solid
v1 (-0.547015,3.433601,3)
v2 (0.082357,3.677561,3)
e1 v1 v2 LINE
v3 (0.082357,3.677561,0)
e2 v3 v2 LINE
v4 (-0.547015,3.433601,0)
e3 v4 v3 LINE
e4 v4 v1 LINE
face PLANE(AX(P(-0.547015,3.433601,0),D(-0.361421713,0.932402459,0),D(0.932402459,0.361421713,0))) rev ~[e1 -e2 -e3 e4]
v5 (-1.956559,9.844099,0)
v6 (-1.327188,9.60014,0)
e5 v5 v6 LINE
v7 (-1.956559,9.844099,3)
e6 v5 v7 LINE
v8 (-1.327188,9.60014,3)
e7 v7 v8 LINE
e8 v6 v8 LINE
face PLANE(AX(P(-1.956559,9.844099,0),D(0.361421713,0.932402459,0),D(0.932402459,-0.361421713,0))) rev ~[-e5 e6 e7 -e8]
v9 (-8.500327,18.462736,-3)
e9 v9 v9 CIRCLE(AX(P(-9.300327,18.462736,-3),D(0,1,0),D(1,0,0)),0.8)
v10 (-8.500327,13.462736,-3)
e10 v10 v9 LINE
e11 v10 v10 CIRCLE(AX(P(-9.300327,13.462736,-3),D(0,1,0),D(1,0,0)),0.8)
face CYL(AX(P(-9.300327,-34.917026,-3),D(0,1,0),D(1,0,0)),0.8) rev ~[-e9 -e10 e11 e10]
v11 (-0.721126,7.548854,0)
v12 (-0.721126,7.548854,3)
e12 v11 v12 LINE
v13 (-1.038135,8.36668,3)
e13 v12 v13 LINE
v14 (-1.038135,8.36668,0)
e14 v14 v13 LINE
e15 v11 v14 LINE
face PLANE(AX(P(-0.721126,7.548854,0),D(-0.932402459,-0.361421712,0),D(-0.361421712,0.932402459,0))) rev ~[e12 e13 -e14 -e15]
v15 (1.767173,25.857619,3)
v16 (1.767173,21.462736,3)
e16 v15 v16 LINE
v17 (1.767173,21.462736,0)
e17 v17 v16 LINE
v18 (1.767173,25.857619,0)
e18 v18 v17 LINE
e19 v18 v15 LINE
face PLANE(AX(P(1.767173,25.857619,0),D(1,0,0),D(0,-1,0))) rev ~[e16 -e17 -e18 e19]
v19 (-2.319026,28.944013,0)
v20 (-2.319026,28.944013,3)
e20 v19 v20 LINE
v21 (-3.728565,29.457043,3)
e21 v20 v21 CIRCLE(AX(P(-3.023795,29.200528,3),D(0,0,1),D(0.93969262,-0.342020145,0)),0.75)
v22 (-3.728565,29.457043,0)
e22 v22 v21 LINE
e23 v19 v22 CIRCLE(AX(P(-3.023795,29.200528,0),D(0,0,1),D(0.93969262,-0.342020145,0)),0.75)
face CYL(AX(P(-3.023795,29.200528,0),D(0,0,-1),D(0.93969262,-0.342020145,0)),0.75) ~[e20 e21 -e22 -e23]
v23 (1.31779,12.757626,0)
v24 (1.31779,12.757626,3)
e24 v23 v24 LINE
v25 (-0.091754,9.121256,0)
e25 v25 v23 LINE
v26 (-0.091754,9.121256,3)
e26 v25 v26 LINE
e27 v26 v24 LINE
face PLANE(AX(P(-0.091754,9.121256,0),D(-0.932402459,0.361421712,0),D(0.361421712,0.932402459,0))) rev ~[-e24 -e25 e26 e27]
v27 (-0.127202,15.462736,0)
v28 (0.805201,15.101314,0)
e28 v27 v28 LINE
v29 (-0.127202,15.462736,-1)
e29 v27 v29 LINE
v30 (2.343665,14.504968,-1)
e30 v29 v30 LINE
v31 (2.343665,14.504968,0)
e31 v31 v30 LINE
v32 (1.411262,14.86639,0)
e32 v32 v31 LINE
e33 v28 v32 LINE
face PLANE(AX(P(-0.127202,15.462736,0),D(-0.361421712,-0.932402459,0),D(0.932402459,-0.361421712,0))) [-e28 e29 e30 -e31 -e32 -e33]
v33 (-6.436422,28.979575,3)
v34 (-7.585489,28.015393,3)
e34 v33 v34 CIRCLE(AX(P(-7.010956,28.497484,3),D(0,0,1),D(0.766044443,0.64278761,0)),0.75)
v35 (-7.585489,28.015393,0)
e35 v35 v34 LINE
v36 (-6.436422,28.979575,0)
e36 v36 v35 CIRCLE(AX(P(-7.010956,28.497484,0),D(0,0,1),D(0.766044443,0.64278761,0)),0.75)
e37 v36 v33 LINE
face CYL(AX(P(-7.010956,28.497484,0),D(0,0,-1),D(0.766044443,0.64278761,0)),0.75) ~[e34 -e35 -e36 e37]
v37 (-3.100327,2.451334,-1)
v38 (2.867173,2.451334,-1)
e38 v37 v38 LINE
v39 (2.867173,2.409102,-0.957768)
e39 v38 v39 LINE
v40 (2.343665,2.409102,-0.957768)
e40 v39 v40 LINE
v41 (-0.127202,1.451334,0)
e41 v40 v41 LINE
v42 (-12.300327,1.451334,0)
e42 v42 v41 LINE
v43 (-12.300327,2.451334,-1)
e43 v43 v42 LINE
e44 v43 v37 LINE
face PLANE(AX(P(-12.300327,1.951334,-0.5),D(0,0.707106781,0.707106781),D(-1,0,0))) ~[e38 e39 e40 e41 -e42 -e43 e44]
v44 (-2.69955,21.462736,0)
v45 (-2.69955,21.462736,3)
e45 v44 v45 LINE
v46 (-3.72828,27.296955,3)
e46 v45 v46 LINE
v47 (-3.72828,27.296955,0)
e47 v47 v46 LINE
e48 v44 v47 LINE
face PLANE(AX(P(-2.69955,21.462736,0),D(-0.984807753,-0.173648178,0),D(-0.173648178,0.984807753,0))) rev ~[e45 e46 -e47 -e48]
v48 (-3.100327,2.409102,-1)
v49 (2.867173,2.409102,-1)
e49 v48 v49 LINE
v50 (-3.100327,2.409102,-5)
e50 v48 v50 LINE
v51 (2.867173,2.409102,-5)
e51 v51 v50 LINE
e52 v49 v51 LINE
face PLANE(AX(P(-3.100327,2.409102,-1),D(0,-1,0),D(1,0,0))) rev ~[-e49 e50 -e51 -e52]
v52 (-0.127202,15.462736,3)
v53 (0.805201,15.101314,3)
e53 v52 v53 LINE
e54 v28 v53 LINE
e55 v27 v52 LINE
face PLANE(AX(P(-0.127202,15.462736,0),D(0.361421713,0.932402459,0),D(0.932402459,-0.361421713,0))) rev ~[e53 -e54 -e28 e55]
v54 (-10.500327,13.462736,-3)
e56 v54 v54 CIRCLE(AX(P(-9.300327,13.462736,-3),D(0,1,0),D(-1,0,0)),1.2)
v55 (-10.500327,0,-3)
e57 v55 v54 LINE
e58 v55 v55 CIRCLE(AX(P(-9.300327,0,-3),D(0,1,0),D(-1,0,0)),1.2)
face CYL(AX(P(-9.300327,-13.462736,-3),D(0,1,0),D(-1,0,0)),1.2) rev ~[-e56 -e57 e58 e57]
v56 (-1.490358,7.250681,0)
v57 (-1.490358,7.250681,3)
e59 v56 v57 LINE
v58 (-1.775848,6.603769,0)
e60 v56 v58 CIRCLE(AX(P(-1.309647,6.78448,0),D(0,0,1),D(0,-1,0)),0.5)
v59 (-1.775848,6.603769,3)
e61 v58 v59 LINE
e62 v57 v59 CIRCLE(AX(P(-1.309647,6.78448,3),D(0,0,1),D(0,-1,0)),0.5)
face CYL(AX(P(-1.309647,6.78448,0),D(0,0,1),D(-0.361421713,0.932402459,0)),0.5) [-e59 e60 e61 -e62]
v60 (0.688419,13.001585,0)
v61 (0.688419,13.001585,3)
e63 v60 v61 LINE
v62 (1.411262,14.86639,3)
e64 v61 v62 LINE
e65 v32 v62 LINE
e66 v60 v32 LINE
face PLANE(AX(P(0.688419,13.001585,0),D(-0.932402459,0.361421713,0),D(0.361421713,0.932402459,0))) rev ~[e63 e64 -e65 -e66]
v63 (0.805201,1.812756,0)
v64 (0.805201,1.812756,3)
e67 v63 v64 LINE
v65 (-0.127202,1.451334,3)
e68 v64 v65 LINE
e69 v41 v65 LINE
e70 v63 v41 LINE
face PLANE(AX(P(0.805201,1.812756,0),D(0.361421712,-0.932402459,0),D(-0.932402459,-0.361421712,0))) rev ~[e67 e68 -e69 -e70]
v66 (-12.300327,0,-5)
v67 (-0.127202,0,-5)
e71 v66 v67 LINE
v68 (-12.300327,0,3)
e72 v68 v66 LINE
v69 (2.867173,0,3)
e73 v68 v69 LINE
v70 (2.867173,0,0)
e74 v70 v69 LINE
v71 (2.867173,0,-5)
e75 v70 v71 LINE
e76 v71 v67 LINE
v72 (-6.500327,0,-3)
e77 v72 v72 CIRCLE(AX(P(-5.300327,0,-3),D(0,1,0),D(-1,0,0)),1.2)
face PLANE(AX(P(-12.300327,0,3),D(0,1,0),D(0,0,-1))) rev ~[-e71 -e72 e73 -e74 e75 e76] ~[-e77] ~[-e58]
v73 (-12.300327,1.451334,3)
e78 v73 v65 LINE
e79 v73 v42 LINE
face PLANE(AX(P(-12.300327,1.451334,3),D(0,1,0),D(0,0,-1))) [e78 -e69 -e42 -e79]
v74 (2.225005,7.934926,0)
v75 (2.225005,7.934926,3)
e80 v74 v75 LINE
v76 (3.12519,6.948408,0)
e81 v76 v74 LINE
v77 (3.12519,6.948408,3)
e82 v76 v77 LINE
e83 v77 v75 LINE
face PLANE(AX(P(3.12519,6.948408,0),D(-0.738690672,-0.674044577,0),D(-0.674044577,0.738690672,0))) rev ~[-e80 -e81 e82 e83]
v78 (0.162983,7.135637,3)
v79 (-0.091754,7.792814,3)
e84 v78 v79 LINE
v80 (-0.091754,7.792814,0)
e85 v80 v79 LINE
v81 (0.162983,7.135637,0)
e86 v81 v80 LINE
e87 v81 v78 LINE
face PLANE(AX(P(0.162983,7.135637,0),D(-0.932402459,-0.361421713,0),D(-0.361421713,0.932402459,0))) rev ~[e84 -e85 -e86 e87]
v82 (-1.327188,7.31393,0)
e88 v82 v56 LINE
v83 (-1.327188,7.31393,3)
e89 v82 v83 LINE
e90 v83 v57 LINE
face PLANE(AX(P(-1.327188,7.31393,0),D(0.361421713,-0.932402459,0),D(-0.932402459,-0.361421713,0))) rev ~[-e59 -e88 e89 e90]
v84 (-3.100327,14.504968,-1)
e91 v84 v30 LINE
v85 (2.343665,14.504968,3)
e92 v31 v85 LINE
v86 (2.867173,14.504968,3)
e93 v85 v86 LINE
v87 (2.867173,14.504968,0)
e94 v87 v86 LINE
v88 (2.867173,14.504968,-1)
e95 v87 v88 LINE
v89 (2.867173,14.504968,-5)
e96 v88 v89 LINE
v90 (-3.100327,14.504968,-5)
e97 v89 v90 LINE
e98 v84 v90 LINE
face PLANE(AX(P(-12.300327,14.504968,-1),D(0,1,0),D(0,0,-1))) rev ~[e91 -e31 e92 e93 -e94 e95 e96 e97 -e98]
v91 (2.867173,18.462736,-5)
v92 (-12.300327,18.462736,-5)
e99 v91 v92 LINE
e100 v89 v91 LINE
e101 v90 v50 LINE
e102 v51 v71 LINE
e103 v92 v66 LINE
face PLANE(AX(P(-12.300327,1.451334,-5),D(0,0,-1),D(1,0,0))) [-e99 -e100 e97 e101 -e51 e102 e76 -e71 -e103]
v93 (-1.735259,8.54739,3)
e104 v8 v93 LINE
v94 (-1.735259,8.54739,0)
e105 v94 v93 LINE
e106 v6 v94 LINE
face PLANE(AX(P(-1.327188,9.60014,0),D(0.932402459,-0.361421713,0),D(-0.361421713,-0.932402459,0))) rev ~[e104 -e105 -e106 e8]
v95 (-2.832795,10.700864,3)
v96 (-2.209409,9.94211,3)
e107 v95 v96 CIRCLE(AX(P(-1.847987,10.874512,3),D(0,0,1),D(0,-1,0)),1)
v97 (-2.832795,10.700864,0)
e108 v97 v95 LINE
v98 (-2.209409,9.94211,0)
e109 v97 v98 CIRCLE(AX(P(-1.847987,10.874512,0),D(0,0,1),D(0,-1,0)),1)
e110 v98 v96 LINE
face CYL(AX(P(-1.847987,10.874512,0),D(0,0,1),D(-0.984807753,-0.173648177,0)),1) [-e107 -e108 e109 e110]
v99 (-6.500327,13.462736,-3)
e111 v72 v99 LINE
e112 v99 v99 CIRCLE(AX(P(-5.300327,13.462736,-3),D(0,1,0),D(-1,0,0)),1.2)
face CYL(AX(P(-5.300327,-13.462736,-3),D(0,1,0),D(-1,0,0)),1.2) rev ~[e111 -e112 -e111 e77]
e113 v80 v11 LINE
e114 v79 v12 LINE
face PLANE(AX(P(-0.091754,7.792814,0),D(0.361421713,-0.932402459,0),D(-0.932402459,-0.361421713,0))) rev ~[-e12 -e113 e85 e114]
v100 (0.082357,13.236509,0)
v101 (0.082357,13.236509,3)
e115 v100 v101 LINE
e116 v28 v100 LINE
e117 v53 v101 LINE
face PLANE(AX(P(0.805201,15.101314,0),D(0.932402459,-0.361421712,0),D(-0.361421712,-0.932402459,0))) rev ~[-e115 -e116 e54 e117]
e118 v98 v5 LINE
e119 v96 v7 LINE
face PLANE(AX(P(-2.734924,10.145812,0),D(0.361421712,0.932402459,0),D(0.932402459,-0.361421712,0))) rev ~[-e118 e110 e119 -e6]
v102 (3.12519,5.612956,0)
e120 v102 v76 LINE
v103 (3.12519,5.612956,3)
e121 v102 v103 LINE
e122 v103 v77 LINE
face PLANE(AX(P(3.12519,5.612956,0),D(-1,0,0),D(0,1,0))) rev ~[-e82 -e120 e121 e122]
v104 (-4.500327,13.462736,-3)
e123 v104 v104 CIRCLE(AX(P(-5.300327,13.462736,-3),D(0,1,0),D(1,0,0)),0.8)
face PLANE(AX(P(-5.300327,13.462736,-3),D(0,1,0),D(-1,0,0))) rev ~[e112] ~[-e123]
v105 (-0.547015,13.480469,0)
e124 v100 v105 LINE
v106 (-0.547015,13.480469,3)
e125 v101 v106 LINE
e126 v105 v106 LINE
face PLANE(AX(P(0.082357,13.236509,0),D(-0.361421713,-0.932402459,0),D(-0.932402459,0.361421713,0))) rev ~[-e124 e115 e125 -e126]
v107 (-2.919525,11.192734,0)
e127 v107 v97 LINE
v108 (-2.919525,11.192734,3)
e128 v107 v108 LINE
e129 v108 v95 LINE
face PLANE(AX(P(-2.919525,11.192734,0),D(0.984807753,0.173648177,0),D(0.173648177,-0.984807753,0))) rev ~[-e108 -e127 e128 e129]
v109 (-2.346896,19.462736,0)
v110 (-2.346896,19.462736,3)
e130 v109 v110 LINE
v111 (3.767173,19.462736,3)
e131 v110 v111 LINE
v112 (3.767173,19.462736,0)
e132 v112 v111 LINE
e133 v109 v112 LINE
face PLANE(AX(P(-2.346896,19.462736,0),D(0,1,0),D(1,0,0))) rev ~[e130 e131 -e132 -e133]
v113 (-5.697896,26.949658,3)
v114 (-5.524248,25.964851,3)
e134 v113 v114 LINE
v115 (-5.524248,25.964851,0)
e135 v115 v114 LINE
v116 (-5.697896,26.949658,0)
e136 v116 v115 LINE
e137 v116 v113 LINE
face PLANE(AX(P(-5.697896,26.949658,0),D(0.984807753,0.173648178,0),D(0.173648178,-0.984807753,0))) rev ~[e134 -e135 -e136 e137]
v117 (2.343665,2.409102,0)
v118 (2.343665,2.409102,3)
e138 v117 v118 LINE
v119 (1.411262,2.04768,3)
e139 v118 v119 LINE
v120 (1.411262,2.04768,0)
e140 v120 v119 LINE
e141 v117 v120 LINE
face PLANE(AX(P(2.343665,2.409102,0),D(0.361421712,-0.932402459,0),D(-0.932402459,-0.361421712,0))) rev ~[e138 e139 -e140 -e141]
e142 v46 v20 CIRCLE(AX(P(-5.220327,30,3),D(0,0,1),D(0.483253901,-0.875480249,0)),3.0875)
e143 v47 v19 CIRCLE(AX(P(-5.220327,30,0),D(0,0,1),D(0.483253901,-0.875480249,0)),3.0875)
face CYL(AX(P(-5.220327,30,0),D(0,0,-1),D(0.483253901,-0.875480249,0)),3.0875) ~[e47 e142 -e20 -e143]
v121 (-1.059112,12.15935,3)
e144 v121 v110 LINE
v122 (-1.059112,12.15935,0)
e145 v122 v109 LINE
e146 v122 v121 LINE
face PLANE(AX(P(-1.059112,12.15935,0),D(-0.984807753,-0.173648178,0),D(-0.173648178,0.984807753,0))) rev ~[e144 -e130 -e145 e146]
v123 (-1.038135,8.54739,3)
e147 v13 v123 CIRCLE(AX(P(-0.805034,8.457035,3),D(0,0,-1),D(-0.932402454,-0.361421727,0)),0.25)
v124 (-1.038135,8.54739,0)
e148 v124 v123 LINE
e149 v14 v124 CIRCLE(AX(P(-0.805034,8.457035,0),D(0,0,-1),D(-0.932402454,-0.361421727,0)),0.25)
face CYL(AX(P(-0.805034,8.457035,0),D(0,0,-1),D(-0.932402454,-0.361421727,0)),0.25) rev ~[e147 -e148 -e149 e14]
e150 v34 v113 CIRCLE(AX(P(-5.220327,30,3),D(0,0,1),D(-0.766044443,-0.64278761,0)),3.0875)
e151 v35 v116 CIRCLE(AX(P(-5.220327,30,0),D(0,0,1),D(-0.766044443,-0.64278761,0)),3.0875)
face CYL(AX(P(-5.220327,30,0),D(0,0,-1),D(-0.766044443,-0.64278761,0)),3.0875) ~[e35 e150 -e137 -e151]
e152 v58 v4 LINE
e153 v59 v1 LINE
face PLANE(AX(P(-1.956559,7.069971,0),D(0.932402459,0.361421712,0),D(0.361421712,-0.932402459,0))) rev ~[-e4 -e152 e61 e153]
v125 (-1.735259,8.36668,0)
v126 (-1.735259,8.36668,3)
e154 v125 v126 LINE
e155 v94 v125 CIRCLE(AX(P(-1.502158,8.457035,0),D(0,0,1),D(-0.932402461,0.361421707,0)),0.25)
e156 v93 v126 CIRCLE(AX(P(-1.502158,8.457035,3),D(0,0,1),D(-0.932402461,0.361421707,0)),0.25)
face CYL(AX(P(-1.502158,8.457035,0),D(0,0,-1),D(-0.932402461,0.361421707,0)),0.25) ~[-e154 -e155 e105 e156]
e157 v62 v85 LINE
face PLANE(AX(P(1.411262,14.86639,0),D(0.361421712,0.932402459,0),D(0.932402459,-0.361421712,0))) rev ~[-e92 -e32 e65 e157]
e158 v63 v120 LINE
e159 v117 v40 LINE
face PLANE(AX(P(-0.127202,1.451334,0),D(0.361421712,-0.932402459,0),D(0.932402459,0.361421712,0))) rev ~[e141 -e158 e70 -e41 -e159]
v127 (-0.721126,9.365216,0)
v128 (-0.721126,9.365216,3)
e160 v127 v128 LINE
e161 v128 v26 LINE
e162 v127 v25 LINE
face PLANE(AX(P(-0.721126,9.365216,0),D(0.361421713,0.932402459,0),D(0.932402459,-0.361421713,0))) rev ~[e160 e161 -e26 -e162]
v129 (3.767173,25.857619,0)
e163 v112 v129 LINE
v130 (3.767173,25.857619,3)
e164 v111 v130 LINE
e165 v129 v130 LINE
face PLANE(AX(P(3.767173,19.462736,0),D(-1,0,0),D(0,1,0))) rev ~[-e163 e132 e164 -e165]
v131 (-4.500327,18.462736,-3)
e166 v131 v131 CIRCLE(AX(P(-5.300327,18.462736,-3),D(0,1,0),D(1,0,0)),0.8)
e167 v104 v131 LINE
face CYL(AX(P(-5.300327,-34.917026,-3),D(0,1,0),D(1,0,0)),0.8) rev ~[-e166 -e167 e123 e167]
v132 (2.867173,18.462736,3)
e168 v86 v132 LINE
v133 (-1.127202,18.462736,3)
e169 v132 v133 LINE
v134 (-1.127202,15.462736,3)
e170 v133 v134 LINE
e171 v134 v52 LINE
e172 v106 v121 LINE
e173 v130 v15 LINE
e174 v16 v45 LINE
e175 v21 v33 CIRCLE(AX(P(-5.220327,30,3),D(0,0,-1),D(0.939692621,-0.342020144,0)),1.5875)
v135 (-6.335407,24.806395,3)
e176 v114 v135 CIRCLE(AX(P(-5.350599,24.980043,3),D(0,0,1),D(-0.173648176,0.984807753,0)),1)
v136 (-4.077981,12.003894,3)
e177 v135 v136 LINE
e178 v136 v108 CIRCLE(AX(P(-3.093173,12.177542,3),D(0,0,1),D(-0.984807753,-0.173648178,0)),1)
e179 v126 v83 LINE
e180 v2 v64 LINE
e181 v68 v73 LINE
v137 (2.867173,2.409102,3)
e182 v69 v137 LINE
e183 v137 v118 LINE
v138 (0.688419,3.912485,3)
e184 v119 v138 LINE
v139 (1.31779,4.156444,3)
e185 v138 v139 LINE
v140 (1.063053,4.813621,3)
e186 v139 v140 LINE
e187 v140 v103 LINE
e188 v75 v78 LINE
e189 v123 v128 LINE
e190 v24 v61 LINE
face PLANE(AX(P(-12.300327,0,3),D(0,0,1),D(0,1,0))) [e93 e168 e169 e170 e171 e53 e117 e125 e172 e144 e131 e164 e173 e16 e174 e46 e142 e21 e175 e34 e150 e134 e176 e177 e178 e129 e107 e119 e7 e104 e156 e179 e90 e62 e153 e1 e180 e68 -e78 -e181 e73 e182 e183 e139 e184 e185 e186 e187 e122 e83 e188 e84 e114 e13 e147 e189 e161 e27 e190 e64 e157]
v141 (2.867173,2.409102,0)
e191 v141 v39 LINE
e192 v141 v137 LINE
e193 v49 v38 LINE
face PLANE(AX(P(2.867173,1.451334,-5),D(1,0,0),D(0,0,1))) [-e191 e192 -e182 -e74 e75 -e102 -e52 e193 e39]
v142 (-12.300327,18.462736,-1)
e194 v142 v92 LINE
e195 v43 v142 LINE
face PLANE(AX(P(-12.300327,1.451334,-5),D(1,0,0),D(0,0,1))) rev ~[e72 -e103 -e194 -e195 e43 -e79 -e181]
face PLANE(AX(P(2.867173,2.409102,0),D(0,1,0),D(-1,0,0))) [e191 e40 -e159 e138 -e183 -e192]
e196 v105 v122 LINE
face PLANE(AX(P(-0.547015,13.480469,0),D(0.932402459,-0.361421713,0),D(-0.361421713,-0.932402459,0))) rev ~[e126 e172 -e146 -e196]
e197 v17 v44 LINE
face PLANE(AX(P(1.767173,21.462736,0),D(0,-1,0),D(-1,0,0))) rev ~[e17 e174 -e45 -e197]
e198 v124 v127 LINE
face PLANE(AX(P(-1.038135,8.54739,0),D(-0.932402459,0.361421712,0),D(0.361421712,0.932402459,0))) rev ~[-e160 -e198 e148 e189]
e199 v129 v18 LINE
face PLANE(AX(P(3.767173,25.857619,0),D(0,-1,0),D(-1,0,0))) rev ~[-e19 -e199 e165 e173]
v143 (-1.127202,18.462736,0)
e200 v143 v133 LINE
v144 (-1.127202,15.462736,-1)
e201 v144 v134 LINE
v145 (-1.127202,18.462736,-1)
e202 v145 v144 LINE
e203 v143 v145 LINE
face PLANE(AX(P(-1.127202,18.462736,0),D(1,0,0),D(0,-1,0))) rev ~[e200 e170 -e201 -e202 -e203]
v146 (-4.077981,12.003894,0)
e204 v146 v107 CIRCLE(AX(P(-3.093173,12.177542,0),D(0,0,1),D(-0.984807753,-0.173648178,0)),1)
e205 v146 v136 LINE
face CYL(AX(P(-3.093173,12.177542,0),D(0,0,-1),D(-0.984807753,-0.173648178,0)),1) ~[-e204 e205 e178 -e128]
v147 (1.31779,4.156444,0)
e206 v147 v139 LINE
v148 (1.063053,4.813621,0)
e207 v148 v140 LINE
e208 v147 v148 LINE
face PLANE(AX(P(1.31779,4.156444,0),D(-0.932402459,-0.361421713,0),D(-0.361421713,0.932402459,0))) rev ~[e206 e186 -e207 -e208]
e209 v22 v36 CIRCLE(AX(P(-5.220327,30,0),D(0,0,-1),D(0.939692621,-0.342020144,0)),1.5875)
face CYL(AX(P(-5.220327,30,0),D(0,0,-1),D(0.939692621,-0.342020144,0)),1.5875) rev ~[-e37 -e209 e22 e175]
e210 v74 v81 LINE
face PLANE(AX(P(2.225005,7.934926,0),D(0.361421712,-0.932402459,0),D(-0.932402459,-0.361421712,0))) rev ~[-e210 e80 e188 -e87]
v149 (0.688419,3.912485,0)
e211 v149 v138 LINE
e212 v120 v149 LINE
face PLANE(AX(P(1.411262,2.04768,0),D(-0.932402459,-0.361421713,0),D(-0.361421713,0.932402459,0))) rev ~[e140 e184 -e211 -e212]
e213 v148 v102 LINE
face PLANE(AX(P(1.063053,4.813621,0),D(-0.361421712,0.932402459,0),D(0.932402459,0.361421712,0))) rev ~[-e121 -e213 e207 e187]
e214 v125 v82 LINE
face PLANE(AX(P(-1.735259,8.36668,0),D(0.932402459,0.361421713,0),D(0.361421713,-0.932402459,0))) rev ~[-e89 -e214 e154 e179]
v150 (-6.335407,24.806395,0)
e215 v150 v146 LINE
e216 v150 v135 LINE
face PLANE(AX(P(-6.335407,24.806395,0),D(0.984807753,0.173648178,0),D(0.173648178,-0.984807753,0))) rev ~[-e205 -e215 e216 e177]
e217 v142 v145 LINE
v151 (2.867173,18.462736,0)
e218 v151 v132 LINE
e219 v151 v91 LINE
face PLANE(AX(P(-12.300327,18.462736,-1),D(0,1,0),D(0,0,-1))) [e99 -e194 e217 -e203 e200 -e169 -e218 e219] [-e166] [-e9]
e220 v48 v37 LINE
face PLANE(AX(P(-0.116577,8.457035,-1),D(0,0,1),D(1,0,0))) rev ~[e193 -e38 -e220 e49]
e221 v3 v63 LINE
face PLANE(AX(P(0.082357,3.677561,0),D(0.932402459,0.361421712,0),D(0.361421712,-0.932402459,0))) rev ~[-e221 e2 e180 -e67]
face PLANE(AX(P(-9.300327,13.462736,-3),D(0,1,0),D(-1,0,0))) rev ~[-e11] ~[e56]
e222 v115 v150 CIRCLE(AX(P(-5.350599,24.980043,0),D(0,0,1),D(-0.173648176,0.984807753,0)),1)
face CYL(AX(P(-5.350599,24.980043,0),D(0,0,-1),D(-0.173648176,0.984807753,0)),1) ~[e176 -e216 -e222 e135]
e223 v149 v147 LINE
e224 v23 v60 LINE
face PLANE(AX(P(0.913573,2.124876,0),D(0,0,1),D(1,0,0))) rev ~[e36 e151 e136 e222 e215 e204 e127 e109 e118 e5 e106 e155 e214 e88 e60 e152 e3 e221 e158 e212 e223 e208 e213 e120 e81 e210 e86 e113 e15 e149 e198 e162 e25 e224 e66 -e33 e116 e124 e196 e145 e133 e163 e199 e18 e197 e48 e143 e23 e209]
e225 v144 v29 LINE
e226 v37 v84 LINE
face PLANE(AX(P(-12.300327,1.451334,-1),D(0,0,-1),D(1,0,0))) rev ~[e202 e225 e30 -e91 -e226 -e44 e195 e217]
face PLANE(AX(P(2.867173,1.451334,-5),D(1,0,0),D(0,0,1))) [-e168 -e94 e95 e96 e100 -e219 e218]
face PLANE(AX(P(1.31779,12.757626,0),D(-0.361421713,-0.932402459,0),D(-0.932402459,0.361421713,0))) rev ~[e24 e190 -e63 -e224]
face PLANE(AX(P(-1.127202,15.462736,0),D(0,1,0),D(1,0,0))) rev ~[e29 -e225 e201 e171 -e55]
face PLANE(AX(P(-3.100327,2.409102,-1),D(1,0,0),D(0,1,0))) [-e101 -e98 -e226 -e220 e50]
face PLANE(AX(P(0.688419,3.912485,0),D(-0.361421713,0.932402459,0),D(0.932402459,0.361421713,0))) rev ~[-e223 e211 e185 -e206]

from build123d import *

# Parameters (mm, degrees)
BOSS_SWITCH_BODY_DEPTH            = 3
SKETCH1_W                         = 2.994375291
SKETCH1_H                         = 2.409101515
SKETCH1_W_2                       = 3.994375291
SKETCH1_H_2                       = 3.957767538
BOSS_FLANGE_WIDTH_DEPTH           = 5
BOSS_FLANGE_HEIGHT_REACH          = 36.354
SKETCH2_W                         = 4
SKETCH2_H                         = 3.957767538
SKETCH2_W_2                       = 8
SKETCH2_H_2                       = 1.451333978
SKETCH17_W                        = 15.1675
SKETCH17_H                        = 4
BOSS_FLANGE_SUPPORT_DEPTH         = 13.053634428
CUT_WALL_GAP_DEPTH                = 1
TAP_DRILL_FOR_M2X0_4_TAP1_D       = 1.6
M2_CLEARANCE_HOLE2_D              = 2.4
M2_CLEARANCE_HOLE2_DEPTH          = 13.462735941
CHAMFER_FLANGE_SUPPORT_3_SIZE     = 1
FILLET1_R                         = 1
FILLET2_R                         = 0.5
SKETCH28_W                        = 5.9675
SKETCH28_H                        = 12.095866891
CUT_PRINT_SUPPORT_CLEARANCE_DEPTH = 33.624103931


with BuildPart() as part:
    # Sketch-SwitchBossUp → Boss-Switch Body (new body)
    with BuildSketch(Plane.XY):
        with BuildLine():
            Line((-5.697895702, 26.949658376), (-5.524247524, 25.964850623))
            ThreePointArc((-5.524247524, 25.964850623), (-6.169751391, 25.553619307), (-6.3354071, 24.806394693))
            Line((-6.3354071, 24.806394693), (-4.07798079, 12.003893904))
            ThreePointArc((-4.07798079, 12.003893904), (-3.666749473, 11.358390037), (-2.919524859, 11.192734328))
            Line((-2.919524859, 11.192734328), (-2.734924291, 10.145812481))
            Line((-2.734924291, 10.145812481), (-1.956559213, 9.844099378))
            Line((-1.956559213, 9.844099378), (-1.327187553, 9.600139722))
            Line((-1.327187553, 9.600139722), (-1.735258621, 8.547390389))
            ThreePointArc((-1.735258621, 8.547390389), (-1.752158006, 8.457034961), (-1.735258621, 8.366679532))
            Line((-1.735258621, 8.366679532), (-1.327187553, 7.313930199))
            Line((-1.327187553, 7.313930199), (-1.956559213, 7.069970543))
            Line((-1.956559213, 7.069970543), (-0.547014535, 3.433600952))
            Line((-0.547014535, 3.433600952), (0.082357125, 3.677560608))
            Line((0.082357125, 3.677560608), (0.805200549, 1.81275569))
            Line((0.805200549, 1.81275569), (-0.12720191, 1.451333978))
            Line((-0.12720191, 1.451333978), (-0.12720191, 0))
            Line((-0.12720191, 0), (2.867173381, 0))
            Line((2.867173381, 0), (2.867173381, 2.409101515))
            Line((2.867173381, 2.409101515), (2.343664607, 2.409101515))
            Line((2.343664607, 2.409101515), (1.411262148, 2.047679803))
            Line((1.411262148, 2.047679803), (0.688418723, 3.912484721))
            Line((0.688418723, 3.912484721), (1.317790383, 4.156444377))
            Line((1.317790383, 4.156444377), (1.063052687, 4.813621425))
            Line((1.063052687, 4.813621425), (3.125189653, 5.612955517))
            Line((3.125189653, 5.612955517), (3.125189653, 6.948407561))
            Line((3.125189653, 6.948407561), (2.225005405, 7.93492645))
            Line((2.225005405, 7.93492645), (0.162983401, 7.13563692))
            Line((0.162983401, 7.13563692), (-0.091754295, 7.792813968))
            Line((-0.091754295, 7.792813968), (-0.721125955, 7.548854312))
            Line((-0.721125955, 7.548854312), (-1.038134762, 8.366679532))
            ThreePointArc((-1.038134762, 8.366679532), (-1.055034148, 8.457034961), (-1.038134762, 8.547390389))
            Line((-1.038134762, 8.547390389), (-0.721125955, 9.365215609))
            Line((-0.721125955, 9.365215609), (-0.091754295, 9.121255953))
            Line((-0.091754295, 9.121255953), (1.317790383, 12.757625544))
            Line((1.317790383, 12.757625544), (0.688418723, 13.0015852))
            Line((0.688418723, 13.0015852), (1.411262148, 14.866390118))
            Line((1.411262148, 14.866390118), (2.343664607, 14.504968406))
            Line((2.343664607, 14.504968406), (2.867173381, 14.504968406))
            Line((2.867173381, 14.504968406), (2.867173381, 18.462735944))
            Line((2.867173381, 18.462735944), (-0.111637615, 18.462735944))
            Line((-0.111637615, 18.462735944), (-1.12720191, 18.462735944))
            Line((-1.12720191, 18.462735944), (-1.12720191, 15.462735944))
            Line((-1.12720191, 15.462735944), (-0.12720191, 15.462735944))
            Line((-0.12720191, 15.462735944), (0.805200549, 15.101314231))
            Line((0.805200549, 15.101314231), (0.082357125, 13.236509313))
            Line((0.082357125, 13.236509313), (-0.547014535, 13.480468969))
            Line((-0.547014535, 13.480468969), (-1.059112089, 12.159350171))
            Line((-1.059112089, 12.159350171), (-2.346896051, 19.462735944))
            Line((-2.346896051, 19.462735944), (3.767173381, 19.462735944))
            Line((3.767173381, 19.462735944), (3.767173381, 25.857619356))
            Line((3.767173381, 25.857619356), (1.767173381, 25.857619356))
            Line((1.767173381, 25.857619356), (1.767173381, 21.462735944))
            Line((1.767173381, 21.462735944), (-2.699550012, 21.462735944))
            Line((-2.699550012, 21.462735944), (-3.728280196, 27.296954732))
            ThreePointArc((-3.728280196, 27.296954732), (-2.874356585, 27.992742953), (-2.319025652, 28.944012807))
            ThreePointArc((-2.319025652, 28.944012807), (-2.76728001, 29.905297381), (-3.728564583, 29.457043022))
            ThreePointArc((-3.728564583, 29.457043022), (-4.944660137, 28.436617692), (-6.436422172, 28.97957467))
            ThreePointArc((-6.436422172, 28.97957467), (-7.493046212, 29.072017295), (-7.585488837, 28.015393255))
            ThreePointArc((-7.585488837, 28.015393255), (-6.738295005, 27.311426358), (-5.697895702, 26.949658376))
        make_face()
    extrude(amount=BOSS_SWITCH_BODY_DEPTH)

    # Sketch1 → Boss-Flange Width (add)
    with BuildSketch(Plane(origin=(0, 0, 0), x_dir=(-1, 0, 0), z_dir=(0, 0, -1))):
        with Locations((-1.369985736, 1.204550758)):
            Rectangle(SKETCH1_W, SKETCH1_H)
        with Locations((-0.869985736, 16.483852175)):
            Rectangle(SKETCH1_W_2, SKETCH1_H_2)
    extrude(amount=BOSS_FLANGE_WIDTH_DEPTH)

    # Boss-Flange Height: up to this face of the body (flat: up to its plane)
    boss_flange_height_end = Plane(part.part.faces().sort_by_distance((-0.12720191, 1.077409098, -1.438016547))[0])
    # Sketch2 → Boss-Flange Height (add, up to the picked face)
    with BuildSketch(Plane(origin=(-12.300326619, 0, 0), x_dir=(0, 0, -1), z_dir=(1, 0, 0)), mode=Mode.PRIVATE) as boss_flange_height_sk1:
        with Locations((3, 16.483852175)):
            Rectangle(SKETCH2_W, SKETCH2_H)
    boss_flange_height_tool1 = split(extrude(boss_flange_height_sk1.sketch, amount=BOSS_FLANGE_HEIGHT_REACH, mode=Mode.PRIVATE), bisect_by=boss_flange_height_end, keep=Keep.BOTH, mode=Mode.PRIVATE)
    # Sketch2 → Boss-Flange Height (add, up to the picked face)
    with BuildSketch(Plane(origin=(-12.300326619, 0, 0), x_dir=(0, 0, -1), z_dir=(1, 0, 0)), mode=Mode.PRIVATE) as boss_flange_height_sk2:
        with Locations((1, 0.725666989)):
            Rectangle(SKETCH2_W_2, SKETCH2_H_2)
    boss_flange_height_tool2 = split(extrude(boss_flange_height_sk2.sketch, amount=BOSS_FLANGE_HEIGHT_REACH, mode=Mode.PRIVATE), bisect_by=boss_flange_height_end, keep=Keep.BOTH, mode=Mode.PRIVATE)
    add(boss_flange_height_tool1.solids().sort_by(Axis((-12.300327, 16.483852, -3), (1, 0, 0)))[0])
    add(boss_flange_height_tool2.solids().sort_by(Axis((-12.300327, 0.725667, -1), (1, 0, 0)))[0])

    # Sketch17 → Boss-Flange Support (add)
    with BuildSketch(Plane.XZ.offset(-1.451333978)):
        with Locations((-4.716576619, -3)):
            Rectangle(SKETCH17_W, SKETCH17_H)
    extrude(amount=-BOSS_FLANGE_SUPPORT_DEPTH)

    # Sketch27 → Cut-Wall Gap (cut)
    with BuildSketch(Plane.XY):
        Polygon((-0.12720191, 15.462735944), (2.343664607, 14.504968406), (-1.12720191, 14.504968406), (-1.12720191, 15.462735944), align=None)
        Polygon((2.343664607, 2.409101515), (-0.12720191, 2.409101515), (-0.12720191, 1.451333978), align=None)
    extrude(amount=-CUT_WALL_GAP_DEPTH, mode=Mode.SUBTRACT)

    # Tap Drill for M2x0.4 Tap1 (through all)
    with Locations(Plane(origin=(0, 0, 0), x_dir=(-1, 0, 0), z_dir=(0, -1, 0))):
        with Locations((9.300326619, 3), (5.300326619, 3)):
            Hole(TAP_DRILL_FOR_M2X0_4_TAP1_D / 2)

    # M2 Clearance Hole2
    with Locations(Plane.XZ):
        with Locations((-9.300326619, -3), (-5.300326619, -3)):
            Hole(M2_CLEARANCE_HOLE2_D / 2, depth=M2_CLEARANCE_HOLE2_DEPTH)

    # Chamfer-Flange Support 3
    chamfer_flange_support_3_edges = [part.edges().sort_by_distance(p)[0] for p in [
        (-6.213764264, 1.451333978, -1),
    ]]
    chamfer(chamfer_flange_support_3_edges, length=CHAMFER_FLANGE_SUPPORT_3_SIZE)

    # Fillet1
    fillet1_edges = [part.edges().sort_by_distance(p)[0] for p in [
        (-2.734924291, 10.145812481, 1.5),
    ]]
    fillet(fillet1_edges, radius=FILLET1_R)

    # Fillet2
    fillet2_edges = [part.edges().sort_by_distance(p)[0] for p in [
        (-1.956559213, 7.069970543, 1.5),
    ]]
    fillet(fillet2_edges, radius=FILLET2_R)

    # Sketch28 → Cut-Print Support Clearance (cut, through all)
    with BuildSketch(Plane.XY.offset(-1)):
        with Locations((-0.116576619, 8.457034961)):
            Rectangle(SKETCH28_W, SKETCH28_H)
    extrude(amount=-CUT_PRINT_SUPPORT_CLEARANCE_DEPTH, mode=Mode.SUBTRACT)


solid = part.part
